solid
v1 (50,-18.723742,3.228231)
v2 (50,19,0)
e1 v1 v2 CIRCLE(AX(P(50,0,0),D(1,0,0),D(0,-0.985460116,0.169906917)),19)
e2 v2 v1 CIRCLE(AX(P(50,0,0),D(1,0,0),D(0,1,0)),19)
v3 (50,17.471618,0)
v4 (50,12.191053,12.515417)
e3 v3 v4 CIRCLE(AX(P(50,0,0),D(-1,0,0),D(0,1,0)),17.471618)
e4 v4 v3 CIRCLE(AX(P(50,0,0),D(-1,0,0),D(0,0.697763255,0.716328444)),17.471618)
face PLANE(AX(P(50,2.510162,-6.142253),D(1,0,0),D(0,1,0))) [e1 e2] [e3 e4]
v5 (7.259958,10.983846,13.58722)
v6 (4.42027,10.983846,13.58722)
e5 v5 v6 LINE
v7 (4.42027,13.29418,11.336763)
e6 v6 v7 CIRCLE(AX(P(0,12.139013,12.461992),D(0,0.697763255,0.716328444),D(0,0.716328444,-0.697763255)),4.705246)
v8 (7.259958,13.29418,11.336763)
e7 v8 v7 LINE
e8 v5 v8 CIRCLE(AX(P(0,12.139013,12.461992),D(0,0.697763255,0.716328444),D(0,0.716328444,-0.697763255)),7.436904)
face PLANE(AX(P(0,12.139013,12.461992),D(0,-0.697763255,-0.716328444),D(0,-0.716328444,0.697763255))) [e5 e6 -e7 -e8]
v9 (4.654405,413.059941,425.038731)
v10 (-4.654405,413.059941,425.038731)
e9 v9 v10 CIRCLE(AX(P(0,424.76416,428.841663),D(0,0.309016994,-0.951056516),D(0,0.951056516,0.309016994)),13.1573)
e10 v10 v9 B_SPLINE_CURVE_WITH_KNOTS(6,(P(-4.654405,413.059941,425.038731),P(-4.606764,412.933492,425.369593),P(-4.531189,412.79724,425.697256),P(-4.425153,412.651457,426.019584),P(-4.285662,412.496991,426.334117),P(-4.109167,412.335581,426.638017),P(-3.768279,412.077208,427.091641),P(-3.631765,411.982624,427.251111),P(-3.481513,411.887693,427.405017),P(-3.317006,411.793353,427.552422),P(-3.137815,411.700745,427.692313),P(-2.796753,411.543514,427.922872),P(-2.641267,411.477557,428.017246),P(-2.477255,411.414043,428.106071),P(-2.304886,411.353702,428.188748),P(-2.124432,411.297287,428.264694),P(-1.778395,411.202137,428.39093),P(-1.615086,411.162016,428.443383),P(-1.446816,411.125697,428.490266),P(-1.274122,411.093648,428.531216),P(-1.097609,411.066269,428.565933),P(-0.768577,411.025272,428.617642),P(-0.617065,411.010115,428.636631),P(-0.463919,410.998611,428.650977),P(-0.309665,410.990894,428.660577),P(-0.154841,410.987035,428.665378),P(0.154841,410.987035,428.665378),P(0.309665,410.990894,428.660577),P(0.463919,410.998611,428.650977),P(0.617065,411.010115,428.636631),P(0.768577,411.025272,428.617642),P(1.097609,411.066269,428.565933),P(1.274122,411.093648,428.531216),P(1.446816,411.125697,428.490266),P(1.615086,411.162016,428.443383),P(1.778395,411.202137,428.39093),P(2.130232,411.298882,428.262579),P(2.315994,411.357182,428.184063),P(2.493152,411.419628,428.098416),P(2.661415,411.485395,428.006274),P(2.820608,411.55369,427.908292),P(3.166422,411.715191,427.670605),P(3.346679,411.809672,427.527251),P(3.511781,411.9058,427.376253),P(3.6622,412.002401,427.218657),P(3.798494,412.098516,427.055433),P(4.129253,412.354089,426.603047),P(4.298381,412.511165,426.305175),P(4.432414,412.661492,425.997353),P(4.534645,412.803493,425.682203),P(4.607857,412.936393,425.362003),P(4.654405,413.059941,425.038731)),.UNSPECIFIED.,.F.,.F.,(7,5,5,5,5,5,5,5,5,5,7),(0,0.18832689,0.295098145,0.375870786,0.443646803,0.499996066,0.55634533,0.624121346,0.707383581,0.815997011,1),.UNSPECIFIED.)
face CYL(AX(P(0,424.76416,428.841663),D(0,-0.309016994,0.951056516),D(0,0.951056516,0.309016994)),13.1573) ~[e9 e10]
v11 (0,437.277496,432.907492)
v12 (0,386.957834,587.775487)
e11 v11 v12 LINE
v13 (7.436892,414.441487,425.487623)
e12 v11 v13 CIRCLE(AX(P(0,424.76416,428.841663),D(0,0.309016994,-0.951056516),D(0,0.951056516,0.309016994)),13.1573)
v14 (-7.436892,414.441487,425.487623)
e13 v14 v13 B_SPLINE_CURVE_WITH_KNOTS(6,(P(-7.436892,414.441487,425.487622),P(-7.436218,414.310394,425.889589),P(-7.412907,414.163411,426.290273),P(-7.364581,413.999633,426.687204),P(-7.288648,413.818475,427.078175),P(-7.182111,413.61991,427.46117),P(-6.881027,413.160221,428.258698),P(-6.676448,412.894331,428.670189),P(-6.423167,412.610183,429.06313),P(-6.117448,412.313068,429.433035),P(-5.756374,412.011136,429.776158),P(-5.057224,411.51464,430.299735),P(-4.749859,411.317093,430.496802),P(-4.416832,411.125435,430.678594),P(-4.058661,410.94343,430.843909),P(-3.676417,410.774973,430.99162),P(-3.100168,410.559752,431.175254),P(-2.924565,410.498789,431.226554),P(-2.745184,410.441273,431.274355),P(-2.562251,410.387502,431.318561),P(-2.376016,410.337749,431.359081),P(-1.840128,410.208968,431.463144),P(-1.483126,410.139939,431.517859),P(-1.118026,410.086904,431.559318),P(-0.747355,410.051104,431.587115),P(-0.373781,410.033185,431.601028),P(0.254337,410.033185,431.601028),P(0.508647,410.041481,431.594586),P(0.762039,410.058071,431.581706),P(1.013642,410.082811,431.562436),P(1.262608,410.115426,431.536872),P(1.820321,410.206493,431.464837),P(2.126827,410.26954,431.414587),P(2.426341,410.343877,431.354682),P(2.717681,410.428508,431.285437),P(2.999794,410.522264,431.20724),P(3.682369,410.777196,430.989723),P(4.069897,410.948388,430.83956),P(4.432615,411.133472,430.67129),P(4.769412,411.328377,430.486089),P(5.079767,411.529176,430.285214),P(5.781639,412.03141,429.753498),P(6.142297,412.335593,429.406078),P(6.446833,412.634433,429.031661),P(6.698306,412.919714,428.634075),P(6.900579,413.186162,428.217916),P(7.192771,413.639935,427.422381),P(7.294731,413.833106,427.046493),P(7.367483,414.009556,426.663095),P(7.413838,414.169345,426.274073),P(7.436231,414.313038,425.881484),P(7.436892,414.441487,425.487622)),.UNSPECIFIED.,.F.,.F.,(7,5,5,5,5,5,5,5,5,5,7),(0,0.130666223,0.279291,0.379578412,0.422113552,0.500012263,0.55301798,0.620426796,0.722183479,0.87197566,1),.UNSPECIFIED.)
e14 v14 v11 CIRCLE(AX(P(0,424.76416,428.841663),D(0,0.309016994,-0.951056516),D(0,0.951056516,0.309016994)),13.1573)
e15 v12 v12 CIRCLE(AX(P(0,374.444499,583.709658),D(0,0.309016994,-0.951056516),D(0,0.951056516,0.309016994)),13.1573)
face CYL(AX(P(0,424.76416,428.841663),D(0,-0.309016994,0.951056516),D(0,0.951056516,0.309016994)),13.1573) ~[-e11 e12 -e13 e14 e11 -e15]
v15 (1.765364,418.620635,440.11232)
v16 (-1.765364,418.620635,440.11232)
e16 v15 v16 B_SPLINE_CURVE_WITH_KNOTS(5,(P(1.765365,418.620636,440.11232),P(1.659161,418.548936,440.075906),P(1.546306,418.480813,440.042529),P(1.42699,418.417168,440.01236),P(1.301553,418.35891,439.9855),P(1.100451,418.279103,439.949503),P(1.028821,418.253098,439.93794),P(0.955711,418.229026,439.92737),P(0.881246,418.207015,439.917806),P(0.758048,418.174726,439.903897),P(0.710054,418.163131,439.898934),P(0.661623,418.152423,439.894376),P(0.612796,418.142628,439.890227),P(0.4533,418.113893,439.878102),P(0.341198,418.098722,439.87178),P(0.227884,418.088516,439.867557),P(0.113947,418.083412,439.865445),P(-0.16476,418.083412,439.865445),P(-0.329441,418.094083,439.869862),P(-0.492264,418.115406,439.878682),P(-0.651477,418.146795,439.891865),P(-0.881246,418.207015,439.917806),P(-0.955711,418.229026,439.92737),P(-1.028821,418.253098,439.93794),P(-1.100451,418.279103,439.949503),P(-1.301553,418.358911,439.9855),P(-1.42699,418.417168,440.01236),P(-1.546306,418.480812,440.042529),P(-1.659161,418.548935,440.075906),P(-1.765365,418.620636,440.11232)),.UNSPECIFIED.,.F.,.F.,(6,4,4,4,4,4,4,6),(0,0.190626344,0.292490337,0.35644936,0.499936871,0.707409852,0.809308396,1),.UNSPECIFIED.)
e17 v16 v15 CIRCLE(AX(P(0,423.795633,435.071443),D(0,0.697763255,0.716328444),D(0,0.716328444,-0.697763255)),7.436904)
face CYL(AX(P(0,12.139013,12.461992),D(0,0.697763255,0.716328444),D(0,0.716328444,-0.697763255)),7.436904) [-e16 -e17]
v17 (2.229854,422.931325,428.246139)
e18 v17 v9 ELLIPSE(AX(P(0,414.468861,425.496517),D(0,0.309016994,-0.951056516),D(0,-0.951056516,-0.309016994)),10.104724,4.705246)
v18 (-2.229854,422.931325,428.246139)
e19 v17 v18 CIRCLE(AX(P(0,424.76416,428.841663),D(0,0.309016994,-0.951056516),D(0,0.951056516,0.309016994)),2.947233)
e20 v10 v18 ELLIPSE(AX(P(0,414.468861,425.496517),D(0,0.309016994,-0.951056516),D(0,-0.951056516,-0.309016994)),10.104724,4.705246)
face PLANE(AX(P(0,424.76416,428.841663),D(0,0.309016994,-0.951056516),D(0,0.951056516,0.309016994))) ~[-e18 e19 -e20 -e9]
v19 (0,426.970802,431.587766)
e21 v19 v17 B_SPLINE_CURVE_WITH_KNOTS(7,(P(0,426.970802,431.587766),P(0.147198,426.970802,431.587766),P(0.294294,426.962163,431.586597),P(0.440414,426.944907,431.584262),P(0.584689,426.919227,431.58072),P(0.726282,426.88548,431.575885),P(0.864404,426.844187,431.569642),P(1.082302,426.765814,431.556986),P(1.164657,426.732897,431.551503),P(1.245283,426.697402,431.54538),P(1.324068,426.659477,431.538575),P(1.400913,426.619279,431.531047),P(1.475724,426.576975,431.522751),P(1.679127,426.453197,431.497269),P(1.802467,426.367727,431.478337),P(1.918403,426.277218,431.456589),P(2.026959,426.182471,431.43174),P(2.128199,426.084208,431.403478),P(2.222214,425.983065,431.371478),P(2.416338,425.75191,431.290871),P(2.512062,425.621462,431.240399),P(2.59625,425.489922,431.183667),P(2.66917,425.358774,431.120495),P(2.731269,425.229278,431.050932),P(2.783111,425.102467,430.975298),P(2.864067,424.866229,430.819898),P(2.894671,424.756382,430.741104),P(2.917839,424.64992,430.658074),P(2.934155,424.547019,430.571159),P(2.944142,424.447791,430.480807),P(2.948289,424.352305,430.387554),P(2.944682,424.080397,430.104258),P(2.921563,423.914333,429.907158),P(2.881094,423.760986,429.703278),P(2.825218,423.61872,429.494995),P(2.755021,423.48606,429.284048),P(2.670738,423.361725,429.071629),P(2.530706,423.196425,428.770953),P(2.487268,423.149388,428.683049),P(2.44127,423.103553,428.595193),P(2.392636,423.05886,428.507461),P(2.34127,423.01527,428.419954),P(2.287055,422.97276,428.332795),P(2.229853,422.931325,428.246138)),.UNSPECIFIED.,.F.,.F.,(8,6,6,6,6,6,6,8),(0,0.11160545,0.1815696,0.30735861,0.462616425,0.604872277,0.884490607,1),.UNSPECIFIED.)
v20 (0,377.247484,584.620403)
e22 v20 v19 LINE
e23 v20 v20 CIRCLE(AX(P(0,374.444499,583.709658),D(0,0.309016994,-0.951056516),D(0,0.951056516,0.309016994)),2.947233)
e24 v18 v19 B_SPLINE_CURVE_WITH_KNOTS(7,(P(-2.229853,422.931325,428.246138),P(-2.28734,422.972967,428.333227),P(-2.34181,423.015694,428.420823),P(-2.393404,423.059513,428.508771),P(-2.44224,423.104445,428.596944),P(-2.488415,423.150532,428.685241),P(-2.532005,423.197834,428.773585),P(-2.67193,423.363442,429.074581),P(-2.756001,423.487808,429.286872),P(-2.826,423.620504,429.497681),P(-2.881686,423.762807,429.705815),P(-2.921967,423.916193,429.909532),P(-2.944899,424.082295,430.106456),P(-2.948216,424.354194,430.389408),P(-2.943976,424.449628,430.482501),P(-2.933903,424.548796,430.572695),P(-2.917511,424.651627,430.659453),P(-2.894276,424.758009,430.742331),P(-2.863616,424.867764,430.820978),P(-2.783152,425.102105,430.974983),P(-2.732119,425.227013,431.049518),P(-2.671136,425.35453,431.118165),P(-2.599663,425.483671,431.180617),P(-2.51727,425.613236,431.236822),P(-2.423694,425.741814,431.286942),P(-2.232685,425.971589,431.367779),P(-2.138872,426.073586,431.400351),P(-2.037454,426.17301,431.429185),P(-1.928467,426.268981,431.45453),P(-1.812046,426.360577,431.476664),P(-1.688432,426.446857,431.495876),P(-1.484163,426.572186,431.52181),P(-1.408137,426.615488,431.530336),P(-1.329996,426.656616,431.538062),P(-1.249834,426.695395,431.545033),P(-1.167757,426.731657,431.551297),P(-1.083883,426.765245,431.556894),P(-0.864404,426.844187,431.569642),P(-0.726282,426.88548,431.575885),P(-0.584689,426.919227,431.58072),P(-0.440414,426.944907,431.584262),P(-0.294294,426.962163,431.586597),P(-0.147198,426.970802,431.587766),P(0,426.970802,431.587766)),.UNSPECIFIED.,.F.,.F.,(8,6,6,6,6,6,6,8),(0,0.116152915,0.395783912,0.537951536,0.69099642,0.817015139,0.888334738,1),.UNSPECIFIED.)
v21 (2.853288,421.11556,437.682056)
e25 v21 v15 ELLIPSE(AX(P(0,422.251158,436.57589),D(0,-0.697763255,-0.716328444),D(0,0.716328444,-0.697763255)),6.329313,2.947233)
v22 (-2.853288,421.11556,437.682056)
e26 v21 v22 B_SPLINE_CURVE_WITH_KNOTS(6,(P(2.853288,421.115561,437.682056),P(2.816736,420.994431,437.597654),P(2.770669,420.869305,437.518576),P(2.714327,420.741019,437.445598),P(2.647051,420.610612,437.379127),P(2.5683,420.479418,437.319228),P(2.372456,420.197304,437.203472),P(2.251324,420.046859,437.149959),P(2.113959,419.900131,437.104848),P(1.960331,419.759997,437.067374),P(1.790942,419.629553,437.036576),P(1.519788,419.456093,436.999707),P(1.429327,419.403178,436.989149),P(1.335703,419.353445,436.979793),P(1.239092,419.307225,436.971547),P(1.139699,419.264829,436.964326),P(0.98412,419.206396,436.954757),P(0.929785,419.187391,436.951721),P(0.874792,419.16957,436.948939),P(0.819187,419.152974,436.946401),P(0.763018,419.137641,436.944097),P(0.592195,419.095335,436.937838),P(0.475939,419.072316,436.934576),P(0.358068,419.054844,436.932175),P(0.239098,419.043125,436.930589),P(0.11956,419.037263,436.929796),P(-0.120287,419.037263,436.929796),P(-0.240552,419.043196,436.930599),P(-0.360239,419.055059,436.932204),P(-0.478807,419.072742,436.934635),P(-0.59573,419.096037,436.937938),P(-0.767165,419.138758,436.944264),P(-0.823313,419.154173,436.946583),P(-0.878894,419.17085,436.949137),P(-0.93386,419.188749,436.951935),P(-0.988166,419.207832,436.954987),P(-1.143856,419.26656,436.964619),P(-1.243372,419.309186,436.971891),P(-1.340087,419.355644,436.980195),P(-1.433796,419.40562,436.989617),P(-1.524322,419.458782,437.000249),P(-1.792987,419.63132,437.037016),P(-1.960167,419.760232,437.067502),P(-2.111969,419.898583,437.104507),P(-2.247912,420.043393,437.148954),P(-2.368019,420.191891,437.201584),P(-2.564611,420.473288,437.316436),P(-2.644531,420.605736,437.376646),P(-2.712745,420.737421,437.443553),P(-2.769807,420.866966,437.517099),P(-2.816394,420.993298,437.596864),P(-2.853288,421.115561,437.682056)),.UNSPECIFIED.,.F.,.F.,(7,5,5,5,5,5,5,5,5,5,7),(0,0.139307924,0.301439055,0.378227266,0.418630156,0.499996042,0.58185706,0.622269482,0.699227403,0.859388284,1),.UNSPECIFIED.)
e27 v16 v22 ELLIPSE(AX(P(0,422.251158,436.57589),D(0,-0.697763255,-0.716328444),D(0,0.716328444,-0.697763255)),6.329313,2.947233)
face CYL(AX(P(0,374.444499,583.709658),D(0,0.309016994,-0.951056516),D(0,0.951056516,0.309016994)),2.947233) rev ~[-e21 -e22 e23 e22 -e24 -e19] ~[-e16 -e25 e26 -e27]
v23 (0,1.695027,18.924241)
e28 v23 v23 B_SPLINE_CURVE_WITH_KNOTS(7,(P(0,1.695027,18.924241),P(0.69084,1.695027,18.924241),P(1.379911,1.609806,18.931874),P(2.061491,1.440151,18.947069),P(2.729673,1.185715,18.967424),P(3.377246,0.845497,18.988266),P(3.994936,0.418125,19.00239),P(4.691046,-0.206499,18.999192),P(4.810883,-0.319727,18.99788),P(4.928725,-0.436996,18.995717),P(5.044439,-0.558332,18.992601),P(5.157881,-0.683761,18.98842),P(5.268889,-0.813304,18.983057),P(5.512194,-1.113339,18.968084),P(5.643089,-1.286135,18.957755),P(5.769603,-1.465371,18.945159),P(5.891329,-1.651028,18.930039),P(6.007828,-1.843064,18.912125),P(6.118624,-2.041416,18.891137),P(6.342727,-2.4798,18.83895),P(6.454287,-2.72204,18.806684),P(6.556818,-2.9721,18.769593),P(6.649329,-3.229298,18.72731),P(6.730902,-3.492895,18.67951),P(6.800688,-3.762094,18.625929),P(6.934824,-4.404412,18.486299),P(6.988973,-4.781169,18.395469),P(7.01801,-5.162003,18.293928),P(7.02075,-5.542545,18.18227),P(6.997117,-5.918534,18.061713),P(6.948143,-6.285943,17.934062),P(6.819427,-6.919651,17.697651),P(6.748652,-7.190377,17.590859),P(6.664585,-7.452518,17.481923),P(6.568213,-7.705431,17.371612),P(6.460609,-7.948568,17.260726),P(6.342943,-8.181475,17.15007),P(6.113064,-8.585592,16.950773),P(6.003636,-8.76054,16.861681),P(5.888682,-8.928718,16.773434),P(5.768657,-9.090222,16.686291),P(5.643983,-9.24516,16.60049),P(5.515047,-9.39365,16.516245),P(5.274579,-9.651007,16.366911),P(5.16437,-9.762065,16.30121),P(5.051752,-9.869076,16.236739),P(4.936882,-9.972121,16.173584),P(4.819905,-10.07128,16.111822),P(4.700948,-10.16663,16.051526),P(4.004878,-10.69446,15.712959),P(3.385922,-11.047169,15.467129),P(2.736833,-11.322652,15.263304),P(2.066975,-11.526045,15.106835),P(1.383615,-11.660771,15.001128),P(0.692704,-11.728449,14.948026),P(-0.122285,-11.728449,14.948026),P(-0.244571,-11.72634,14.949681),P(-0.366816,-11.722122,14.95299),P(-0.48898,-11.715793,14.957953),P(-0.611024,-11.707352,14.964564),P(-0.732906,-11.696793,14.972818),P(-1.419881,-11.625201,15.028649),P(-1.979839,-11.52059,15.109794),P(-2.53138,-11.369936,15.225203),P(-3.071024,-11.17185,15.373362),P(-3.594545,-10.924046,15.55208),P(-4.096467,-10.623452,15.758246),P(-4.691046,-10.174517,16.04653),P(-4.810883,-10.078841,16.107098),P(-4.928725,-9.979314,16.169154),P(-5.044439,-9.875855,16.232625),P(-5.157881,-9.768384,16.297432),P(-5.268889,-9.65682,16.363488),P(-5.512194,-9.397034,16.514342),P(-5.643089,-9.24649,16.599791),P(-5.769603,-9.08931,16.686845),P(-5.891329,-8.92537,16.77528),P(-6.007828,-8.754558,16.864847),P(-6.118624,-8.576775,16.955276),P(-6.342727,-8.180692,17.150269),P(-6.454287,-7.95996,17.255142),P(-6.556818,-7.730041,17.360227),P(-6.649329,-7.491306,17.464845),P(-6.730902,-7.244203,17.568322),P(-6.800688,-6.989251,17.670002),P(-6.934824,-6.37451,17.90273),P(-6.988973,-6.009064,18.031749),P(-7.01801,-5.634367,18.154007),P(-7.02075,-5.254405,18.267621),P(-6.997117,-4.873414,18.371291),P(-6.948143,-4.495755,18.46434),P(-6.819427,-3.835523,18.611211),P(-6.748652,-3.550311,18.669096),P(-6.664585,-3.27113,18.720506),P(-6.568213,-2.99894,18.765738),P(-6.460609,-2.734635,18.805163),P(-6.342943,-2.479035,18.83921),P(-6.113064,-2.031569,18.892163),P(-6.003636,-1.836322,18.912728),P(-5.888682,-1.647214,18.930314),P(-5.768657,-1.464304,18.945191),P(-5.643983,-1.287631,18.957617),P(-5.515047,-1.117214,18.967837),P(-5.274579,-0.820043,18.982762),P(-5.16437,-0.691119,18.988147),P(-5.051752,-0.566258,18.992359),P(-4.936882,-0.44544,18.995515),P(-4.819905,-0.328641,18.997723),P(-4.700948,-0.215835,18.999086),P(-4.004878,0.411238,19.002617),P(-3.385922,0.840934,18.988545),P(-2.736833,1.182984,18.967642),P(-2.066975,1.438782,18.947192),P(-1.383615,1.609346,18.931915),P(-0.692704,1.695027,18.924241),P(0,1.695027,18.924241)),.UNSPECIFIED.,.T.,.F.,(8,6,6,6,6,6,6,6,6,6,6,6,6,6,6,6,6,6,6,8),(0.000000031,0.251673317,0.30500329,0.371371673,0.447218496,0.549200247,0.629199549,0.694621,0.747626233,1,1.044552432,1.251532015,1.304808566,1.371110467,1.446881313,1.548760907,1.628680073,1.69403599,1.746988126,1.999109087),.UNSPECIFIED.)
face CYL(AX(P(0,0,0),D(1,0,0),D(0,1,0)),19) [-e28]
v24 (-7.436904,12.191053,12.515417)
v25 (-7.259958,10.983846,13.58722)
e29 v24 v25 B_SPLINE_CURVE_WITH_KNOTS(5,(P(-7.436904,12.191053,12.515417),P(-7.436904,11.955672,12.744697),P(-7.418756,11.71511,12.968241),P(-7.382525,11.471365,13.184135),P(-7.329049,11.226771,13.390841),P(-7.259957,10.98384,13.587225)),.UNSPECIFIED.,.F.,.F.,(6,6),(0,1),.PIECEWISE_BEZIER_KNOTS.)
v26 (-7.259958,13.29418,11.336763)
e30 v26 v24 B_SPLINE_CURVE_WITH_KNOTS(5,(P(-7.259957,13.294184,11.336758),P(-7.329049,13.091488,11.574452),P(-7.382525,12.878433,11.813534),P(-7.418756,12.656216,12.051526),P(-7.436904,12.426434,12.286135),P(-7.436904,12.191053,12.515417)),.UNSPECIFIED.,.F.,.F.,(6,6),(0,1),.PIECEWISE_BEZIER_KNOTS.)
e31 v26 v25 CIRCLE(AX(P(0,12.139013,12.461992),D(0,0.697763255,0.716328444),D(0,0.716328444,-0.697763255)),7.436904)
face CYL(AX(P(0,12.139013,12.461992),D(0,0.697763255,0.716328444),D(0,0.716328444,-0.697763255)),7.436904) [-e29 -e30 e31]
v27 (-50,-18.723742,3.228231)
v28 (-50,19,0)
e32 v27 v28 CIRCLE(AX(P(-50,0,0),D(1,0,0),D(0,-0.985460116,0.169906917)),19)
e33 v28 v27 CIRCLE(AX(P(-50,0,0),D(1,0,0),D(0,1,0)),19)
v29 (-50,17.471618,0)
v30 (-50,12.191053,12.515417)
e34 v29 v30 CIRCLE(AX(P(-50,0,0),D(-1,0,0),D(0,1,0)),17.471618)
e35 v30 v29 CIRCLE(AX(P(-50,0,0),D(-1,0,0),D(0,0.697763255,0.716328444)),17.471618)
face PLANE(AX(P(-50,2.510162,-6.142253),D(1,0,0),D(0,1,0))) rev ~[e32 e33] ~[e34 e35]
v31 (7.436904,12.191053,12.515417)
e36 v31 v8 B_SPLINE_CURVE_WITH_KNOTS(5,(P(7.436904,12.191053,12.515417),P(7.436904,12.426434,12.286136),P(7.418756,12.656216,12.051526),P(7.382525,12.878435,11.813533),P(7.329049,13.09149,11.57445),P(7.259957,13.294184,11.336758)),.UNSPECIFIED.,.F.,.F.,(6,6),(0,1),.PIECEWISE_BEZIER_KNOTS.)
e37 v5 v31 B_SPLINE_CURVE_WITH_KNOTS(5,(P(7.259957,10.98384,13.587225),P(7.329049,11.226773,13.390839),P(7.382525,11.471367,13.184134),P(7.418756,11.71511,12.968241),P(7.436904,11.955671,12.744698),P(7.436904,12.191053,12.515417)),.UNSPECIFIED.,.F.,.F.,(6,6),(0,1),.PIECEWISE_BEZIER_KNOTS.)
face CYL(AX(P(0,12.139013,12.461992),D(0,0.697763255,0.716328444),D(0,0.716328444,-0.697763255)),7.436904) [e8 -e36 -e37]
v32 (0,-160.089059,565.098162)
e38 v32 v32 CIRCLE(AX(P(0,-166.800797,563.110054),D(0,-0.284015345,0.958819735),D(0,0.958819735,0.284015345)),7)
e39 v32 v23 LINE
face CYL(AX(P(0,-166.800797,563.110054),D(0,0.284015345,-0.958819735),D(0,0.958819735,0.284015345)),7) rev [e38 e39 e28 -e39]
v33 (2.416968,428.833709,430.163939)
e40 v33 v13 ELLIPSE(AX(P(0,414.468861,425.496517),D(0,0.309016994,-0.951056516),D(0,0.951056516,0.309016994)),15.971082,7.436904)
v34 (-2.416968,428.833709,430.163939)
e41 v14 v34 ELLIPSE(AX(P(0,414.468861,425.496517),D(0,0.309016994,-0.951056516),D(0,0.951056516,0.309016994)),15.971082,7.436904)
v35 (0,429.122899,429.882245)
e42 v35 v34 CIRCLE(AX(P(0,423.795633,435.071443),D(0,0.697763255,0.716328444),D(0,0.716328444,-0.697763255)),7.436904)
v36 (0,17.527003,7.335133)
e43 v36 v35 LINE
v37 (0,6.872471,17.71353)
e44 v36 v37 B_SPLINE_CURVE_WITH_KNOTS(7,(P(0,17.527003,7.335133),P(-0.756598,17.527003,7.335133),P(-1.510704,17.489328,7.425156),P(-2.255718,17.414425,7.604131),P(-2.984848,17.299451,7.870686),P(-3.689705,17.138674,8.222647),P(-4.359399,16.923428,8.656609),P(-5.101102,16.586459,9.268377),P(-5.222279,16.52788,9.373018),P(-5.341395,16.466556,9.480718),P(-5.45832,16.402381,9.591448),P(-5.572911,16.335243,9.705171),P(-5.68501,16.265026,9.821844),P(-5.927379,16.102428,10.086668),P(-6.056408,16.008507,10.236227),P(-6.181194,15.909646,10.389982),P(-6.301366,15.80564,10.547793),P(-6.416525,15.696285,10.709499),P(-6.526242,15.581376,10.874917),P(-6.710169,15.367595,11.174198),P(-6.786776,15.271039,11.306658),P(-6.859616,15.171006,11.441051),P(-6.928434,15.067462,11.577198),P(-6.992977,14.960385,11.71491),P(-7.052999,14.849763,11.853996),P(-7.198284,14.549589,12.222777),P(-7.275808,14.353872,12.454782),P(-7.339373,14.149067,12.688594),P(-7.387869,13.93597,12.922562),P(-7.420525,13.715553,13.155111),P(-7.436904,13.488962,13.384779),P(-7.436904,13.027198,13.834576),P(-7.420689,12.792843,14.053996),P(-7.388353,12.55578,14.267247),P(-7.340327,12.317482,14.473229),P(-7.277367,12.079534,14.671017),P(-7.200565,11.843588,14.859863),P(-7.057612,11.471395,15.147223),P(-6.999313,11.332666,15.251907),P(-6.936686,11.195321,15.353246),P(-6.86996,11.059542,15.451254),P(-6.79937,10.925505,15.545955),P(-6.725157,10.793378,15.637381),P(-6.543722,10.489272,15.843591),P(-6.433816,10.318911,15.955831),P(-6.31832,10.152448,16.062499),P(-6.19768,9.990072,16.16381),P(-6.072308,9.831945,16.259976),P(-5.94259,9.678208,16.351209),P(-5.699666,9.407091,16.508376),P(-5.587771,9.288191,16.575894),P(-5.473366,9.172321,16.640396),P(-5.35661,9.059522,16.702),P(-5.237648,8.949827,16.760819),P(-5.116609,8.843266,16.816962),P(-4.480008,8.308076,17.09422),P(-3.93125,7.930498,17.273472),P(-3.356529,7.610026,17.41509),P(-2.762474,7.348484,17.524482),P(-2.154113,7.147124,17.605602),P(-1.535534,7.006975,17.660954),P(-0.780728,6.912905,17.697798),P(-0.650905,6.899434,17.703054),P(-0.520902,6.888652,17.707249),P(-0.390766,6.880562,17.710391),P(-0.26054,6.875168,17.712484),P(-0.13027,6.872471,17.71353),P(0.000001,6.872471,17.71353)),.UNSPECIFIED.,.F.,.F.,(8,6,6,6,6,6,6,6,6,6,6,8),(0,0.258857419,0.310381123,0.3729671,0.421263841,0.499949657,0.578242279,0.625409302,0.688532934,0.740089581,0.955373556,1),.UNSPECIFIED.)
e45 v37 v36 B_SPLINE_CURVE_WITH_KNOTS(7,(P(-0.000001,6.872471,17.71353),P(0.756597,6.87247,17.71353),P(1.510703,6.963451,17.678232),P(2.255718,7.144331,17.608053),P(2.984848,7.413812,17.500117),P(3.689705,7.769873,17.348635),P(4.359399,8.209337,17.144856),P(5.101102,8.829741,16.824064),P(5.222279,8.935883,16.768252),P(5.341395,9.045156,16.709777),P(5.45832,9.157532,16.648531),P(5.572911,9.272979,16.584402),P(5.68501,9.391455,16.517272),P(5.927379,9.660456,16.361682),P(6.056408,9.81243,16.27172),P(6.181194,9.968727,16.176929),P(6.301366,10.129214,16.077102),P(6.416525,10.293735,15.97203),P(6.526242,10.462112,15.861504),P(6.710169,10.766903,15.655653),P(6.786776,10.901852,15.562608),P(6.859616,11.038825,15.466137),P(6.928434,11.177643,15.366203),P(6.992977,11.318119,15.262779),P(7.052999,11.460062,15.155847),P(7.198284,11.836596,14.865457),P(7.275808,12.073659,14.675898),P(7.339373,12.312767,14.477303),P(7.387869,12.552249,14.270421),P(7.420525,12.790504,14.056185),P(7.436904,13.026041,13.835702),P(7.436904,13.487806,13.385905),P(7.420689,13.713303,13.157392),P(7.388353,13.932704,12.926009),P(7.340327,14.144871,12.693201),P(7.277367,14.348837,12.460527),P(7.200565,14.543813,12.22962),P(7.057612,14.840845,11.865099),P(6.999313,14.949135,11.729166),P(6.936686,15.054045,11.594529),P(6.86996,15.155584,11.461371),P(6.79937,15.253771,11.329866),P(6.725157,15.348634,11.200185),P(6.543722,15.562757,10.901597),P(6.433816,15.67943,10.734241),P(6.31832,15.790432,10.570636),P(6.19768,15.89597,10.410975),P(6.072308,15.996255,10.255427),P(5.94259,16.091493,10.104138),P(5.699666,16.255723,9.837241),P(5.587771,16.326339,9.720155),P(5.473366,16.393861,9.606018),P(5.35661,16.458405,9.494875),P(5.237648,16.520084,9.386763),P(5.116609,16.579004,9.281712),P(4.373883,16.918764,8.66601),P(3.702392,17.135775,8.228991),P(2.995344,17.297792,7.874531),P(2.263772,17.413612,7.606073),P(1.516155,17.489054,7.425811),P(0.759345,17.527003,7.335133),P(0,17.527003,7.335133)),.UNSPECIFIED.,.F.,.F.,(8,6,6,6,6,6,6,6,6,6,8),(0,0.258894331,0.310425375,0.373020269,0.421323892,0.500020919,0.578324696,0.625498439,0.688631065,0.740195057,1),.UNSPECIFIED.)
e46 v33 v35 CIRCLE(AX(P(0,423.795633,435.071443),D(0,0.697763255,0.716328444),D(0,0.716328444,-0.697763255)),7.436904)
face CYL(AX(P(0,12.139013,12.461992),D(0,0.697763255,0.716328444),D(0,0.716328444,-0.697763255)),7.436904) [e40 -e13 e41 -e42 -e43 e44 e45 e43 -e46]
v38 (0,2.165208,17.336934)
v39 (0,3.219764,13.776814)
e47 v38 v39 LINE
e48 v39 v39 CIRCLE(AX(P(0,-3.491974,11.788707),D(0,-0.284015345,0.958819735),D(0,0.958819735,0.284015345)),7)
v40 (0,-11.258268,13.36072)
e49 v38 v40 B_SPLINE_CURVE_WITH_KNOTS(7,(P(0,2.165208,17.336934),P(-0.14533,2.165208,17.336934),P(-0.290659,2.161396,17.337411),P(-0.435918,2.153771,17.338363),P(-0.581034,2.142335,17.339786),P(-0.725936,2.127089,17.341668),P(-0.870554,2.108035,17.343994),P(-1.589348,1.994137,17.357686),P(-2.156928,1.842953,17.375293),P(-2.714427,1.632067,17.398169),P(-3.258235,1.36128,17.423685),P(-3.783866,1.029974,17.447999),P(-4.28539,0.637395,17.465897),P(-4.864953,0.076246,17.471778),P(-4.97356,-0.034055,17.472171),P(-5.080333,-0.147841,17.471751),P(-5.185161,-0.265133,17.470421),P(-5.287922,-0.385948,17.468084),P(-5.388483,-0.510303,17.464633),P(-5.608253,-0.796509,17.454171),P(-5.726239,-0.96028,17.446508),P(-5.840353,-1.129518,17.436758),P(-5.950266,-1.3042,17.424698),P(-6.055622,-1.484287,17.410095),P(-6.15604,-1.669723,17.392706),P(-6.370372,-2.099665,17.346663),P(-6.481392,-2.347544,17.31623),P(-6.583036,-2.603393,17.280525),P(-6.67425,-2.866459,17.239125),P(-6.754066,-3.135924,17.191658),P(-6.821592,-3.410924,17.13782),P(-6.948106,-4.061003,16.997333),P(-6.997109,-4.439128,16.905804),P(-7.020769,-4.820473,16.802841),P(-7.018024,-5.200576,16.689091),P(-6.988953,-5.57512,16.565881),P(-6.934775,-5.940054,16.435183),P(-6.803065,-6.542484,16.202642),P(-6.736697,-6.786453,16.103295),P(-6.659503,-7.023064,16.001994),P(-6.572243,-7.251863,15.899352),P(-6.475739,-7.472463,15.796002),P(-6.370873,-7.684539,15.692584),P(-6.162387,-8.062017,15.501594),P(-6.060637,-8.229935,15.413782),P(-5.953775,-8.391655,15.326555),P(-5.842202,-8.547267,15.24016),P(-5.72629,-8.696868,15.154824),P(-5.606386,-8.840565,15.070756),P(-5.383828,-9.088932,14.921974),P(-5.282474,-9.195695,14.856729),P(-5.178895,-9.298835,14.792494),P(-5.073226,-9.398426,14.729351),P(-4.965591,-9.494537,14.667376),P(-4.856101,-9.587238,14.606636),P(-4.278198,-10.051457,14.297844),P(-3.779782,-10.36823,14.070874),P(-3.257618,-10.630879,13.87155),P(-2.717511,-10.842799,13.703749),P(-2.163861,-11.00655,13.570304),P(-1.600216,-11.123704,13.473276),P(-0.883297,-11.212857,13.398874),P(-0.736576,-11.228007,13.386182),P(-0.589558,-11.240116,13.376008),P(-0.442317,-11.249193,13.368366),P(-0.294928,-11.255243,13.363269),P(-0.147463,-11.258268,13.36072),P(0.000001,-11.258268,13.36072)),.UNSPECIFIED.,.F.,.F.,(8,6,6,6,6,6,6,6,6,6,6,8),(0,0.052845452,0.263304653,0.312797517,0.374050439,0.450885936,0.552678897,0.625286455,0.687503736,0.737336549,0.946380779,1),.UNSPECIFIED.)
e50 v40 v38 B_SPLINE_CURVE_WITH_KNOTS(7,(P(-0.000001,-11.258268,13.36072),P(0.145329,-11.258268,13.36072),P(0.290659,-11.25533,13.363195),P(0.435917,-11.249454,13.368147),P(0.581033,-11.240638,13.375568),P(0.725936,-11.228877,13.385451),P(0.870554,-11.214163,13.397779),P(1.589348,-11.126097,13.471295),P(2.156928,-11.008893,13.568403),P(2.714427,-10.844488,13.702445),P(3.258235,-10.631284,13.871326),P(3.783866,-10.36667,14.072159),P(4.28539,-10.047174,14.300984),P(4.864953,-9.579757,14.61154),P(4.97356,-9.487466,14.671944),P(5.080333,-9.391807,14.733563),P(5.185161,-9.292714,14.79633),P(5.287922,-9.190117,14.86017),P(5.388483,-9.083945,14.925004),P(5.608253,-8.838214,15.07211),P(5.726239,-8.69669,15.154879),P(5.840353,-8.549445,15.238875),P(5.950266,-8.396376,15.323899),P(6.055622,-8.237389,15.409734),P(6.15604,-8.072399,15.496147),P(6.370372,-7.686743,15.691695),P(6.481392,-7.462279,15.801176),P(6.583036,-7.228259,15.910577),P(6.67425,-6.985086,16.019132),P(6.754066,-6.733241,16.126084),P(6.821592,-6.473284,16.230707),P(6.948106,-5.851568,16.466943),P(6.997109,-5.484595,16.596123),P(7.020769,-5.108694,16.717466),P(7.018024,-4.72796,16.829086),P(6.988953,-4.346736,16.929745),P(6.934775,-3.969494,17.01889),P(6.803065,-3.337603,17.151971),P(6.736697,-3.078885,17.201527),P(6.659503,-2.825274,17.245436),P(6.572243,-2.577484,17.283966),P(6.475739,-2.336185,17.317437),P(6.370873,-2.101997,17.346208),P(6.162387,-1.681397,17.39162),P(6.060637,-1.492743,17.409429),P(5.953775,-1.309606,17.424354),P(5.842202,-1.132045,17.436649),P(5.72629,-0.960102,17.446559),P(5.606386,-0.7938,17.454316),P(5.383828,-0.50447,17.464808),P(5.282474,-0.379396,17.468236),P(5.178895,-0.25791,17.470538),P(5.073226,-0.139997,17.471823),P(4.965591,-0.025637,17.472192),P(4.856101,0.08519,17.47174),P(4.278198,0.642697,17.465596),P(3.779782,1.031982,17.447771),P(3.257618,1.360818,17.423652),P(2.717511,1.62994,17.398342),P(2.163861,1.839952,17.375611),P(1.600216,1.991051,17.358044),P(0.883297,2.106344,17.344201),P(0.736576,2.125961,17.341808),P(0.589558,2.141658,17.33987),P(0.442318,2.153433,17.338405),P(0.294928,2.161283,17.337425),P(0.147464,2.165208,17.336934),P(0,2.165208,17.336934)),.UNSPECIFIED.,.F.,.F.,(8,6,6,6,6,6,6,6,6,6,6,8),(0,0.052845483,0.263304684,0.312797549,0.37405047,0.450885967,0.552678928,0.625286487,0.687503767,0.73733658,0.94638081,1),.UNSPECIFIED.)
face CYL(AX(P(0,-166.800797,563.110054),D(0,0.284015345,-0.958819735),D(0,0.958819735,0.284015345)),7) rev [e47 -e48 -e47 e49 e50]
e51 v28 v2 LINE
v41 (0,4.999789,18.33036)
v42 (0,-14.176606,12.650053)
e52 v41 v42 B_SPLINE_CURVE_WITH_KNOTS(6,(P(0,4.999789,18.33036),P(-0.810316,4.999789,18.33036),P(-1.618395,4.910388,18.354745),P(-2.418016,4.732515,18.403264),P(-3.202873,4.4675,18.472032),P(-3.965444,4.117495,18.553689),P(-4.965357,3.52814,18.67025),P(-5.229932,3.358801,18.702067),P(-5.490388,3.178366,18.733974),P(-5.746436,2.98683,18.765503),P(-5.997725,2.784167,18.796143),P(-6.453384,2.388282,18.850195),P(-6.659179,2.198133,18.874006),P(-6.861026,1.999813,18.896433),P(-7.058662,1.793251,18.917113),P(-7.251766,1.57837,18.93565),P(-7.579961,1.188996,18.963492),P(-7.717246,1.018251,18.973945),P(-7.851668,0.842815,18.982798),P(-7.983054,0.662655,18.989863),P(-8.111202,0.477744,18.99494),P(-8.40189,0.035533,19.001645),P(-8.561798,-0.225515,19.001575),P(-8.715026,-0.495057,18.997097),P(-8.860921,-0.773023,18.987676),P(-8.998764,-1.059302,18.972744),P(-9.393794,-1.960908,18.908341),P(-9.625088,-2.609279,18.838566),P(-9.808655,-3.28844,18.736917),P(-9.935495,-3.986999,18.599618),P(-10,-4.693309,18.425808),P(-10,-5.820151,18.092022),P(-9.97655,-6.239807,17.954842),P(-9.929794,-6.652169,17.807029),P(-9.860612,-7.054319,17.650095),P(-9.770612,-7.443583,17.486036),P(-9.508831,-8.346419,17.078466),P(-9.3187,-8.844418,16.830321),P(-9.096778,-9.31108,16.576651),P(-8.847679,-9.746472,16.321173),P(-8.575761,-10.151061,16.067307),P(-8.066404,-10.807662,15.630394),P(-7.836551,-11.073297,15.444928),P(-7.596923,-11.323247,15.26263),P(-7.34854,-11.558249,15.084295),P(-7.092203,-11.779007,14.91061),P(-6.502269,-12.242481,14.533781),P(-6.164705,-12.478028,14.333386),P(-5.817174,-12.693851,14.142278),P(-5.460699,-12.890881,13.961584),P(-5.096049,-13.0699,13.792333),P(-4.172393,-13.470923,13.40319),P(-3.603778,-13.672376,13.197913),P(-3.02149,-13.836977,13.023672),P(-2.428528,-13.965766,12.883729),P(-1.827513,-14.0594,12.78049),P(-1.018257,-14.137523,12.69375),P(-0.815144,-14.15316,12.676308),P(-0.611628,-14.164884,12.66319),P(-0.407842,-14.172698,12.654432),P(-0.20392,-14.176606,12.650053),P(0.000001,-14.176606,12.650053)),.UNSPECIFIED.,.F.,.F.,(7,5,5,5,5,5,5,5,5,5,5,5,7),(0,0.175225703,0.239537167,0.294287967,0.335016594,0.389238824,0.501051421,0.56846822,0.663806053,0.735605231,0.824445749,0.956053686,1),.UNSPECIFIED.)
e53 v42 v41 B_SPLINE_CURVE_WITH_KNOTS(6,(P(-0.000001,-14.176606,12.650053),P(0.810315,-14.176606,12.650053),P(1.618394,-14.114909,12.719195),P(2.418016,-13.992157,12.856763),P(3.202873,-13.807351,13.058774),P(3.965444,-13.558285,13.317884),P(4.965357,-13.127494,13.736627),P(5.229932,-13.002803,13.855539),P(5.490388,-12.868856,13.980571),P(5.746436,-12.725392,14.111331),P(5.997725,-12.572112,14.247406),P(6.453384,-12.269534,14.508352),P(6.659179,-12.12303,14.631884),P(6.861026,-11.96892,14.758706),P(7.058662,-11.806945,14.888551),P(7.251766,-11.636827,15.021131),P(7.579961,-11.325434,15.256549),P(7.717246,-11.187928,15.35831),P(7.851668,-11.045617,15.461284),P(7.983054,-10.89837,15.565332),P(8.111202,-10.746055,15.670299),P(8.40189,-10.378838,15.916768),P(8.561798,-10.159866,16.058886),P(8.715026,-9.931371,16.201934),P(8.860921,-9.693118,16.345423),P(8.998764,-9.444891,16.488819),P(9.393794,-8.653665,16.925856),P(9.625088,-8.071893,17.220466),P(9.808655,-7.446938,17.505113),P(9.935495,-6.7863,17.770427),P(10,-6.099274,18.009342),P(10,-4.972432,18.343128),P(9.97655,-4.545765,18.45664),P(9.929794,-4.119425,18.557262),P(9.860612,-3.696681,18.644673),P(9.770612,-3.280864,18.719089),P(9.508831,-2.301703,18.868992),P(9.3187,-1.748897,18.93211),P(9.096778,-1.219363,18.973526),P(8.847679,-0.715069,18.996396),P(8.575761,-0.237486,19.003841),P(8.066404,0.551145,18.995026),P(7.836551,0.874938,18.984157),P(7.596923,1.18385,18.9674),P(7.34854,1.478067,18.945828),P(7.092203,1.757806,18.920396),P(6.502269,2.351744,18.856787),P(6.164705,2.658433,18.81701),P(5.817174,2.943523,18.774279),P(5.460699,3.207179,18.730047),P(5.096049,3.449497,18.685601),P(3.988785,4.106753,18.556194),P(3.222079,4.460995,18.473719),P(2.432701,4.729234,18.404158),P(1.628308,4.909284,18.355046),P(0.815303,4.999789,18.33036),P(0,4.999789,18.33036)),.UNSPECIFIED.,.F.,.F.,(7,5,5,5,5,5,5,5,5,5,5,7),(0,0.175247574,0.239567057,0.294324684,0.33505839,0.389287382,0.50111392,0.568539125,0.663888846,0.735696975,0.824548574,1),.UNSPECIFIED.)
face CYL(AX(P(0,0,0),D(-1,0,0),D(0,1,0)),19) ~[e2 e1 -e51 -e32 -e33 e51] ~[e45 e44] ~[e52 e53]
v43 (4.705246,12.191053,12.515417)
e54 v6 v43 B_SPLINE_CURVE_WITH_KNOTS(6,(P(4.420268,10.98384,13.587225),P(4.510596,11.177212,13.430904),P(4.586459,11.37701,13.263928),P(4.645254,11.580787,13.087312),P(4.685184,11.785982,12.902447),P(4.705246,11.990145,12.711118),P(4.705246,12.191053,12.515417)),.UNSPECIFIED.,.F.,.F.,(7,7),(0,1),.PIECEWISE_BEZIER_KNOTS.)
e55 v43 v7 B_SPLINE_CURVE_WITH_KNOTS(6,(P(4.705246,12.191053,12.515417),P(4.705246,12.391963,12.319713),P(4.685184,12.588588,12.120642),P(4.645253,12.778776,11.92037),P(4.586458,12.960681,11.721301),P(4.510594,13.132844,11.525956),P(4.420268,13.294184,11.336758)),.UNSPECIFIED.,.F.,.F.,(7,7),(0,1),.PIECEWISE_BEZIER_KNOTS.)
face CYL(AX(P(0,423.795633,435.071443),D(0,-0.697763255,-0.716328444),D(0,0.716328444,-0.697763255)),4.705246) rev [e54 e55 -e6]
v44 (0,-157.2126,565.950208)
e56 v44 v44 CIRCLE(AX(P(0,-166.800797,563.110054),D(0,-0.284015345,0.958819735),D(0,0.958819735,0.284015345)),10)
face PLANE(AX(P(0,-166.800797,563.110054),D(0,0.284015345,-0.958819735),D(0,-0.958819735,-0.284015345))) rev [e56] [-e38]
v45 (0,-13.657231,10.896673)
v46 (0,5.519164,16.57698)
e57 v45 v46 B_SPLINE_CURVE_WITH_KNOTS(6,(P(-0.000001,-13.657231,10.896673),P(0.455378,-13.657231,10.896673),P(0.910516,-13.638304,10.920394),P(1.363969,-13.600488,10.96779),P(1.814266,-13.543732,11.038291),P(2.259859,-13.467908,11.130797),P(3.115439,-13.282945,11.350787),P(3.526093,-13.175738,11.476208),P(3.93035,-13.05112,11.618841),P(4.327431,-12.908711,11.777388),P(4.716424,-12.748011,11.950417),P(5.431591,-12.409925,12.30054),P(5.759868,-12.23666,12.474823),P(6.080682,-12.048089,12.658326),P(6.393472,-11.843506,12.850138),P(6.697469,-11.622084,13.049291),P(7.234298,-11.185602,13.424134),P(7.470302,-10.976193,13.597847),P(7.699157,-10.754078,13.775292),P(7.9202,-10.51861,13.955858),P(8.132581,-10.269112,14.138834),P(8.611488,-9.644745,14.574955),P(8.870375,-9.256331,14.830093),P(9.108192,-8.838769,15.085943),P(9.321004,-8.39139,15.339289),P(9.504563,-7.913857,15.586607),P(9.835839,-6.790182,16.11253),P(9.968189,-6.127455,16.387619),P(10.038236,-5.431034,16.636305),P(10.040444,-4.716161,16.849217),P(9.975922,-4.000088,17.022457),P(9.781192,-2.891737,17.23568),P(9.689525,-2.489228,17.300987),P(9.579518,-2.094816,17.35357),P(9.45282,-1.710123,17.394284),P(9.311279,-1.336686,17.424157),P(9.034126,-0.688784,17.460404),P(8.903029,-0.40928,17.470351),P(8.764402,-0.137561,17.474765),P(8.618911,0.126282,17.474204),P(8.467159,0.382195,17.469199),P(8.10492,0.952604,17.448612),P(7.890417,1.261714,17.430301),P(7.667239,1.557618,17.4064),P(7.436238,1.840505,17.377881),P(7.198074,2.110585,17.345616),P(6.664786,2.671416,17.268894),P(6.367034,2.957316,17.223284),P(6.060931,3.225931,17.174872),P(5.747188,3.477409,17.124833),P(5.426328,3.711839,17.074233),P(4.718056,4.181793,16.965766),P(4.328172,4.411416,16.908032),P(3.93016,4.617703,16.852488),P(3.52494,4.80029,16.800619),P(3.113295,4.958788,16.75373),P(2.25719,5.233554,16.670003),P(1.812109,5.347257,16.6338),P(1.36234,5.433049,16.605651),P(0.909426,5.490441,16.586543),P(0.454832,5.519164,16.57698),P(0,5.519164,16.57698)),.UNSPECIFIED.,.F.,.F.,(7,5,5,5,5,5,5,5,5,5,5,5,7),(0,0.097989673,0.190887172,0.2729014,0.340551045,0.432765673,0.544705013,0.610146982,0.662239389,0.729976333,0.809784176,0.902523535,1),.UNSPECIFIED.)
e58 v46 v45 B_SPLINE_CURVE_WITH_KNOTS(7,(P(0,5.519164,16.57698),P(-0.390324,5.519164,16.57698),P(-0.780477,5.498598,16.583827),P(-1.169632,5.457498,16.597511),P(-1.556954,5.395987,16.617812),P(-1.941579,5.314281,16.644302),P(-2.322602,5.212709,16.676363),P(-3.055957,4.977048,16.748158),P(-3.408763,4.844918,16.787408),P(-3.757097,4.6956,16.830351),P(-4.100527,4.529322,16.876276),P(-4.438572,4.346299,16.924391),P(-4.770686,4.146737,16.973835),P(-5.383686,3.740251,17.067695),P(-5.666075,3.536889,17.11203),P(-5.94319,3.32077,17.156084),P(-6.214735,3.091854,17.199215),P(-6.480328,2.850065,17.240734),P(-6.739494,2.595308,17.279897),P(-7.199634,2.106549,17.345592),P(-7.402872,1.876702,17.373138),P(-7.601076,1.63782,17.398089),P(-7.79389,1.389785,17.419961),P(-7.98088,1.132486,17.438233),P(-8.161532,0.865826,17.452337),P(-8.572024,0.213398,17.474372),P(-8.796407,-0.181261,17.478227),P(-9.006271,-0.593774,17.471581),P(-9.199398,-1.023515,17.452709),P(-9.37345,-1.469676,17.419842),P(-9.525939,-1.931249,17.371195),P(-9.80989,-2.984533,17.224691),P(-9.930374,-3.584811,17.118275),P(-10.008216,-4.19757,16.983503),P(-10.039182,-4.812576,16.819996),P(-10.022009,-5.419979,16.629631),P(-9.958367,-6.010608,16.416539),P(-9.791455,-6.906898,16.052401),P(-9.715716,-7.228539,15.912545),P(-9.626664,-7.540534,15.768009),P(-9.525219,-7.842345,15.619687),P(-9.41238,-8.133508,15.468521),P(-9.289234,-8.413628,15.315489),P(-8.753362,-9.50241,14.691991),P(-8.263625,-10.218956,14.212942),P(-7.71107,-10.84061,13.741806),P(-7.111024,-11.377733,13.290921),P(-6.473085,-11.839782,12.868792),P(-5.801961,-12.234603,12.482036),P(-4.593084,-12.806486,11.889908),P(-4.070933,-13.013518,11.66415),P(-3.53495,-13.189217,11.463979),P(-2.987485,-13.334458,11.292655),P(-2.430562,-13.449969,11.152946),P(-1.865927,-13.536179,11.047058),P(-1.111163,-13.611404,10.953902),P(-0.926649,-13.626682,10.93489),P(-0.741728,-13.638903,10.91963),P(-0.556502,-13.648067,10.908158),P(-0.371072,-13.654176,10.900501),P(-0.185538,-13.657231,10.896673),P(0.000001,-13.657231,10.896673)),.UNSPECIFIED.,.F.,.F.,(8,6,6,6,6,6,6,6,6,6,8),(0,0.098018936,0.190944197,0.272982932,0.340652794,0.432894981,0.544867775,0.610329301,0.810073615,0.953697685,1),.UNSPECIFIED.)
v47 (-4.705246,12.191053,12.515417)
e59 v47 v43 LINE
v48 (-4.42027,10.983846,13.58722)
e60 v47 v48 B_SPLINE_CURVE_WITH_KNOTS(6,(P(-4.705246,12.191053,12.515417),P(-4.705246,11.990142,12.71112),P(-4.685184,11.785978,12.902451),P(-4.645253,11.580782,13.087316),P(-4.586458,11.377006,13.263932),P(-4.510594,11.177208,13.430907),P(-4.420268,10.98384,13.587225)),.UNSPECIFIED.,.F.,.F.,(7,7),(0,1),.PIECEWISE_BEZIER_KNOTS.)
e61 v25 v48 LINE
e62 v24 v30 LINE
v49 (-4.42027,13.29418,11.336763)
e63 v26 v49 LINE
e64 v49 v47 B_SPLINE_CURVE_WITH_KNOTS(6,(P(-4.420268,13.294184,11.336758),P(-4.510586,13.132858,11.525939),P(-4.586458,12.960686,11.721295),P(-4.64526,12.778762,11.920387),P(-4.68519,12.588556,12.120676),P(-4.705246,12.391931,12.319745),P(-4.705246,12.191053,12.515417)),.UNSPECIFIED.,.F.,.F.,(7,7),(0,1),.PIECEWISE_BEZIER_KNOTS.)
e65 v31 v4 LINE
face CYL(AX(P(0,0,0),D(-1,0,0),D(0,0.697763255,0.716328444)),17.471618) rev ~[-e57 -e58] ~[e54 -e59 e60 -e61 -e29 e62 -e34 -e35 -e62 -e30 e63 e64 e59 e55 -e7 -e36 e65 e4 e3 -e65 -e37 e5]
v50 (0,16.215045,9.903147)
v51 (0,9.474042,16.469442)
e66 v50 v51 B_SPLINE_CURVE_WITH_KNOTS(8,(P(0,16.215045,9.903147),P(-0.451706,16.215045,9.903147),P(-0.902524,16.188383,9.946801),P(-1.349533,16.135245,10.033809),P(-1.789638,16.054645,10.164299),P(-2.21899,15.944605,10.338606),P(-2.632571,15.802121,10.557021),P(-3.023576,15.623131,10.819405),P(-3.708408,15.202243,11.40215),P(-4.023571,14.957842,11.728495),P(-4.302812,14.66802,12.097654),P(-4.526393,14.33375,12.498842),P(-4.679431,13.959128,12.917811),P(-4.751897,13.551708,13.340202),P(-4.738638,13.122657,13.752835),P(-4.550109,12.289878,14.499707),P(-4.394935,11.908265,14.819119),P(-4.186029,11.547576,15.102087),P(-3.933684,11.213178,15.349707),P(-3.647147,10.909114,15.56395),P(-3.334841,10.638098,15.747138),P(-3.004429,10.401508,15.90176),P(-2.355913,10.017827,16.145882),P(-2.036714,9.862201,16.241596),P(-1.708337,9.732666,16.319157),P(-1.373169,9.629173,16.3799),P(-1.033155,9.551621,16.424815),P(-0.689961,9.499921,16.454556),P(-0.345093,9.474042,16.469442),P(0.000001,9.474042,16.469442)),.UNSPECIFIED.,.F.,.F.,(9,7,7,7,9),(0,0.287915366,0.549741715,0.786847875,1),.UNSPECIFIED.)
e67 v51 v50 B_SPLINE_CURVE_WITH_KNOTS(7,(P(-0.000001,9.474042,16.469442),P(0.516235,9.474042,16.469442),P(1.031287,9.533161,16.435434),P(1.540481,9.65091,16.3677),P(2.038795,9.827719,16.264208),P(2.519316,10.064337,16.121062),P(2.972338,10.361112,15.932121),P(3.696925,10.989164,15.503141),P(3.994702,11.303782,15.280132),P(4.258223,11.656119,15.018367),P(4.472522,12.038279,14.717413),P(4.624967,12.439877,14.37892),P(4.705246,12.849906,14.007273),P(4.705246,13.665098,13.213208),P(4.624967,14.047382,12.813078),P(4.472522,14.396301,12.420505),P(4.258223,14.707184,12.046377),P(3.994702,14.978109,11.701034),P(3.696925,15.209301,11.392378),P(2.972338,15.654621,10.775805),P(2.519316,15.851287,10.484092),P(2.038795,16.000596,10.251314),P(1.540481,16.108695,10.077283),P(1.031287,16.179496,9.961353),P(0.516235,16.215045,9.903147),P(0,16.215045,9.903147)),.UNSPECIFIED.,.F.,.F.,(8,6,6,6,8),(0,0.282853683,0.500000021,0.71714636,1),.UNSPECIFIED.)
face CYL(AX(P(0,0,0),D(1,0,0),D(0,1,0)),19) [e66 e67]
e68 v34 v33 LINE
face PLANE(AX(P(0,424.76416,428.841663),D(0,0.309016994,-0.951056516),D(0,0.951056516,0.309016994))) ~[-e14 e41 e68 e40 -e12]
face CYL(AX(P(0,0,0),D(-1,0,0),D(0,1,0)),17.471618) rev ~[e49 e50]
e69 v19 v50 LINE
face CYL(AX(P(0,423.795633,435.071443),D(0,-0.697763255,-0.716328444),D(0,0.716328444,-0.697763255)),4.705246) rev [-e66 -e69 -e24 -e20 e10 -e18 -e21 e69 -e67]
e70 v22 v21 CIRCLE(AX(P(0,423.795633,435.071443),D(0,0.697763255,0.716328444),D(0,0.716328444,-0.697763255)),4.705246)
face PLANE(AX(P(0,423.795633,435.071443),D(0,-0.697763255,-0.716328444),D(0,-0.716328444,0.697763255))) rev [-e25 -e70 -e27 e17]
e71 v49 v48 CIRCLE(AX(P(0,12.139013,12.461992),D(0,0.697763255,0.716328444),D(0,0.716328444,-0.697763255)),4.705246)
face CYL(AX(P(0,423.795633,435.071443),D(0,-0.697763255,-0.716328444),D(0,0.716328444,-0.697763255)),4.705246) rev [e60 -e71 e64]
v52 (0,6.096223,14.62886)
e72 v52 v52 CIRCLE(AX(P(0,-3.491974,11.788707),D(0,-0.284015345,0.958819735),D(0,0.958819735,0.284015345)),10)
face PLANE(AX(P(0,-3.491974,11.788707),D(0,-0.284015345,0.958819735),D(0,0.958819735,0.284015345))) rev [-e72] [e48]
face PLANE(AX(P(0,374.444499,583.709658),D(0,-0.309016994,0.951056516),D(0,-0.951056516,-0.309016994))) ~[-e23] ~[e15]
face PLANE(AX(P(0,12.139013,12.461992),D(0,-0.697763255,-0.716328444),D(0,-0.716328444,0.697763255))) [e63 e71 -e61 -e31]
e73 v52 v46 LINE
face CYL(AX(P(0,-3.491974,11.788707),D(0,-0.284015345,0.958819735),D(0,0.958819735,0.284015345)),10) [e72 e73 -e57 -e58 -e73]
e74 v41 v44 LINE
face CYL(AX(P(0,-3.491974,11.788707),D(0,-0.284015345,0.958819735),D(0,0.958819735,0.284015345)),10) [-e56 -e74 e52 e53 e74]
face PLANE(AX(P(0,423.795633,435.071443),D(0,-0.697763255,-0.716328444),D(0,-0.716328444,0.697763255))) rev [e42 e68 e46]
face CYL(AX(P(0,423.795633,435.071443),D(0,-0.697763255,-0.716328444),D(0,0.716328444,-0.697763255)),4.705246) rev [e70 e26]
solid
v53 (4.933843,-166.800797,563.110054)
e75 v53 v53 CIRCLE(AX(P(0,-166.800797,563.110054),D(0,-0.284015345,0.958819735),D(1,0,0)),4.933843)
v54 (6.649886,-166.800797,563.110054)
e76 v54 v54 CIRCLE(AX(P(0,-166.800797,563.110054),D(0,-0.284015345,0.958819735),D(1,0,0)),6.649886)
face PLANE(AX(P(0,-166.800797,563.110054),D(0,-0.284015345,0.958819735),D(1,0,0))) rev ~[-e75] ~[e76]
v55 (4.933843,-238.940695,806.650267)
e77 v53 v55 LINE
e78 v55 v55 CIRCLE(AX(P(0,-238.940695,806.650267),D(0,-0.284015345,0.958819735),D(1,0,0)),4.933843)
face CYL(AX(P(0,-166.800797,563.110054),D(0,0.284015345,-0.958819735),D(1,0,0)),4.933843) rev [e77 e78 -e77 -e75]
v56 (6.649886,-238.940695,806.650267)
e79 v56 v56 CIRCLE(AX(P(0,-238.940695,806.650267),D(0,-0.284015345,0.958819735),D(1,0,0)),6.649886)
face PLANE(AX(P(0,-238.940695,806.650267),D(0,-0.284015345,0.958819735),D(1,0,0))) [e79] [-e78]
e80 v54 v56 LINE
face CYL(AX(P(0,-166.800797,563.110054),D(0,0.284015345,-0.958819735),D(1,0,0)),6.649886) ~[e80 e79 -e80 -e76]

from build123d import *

# Parameters (mm, degrees)
F1_DEPTH      = 50
F1_DEPTH_BACK = 50
F4_R          = 6.6498858901
F4_R_2        = 4.9338425648
F5_DEPTH      = 254


with BuildPart() as f1:
    # F0 (on Right) → F1 (new body, two sides)
    with BuildSketch(Plane.YZ) as f1_sk:
        with BuildLine():
            Line((-17.2175823491, 2.9685486809), (-18.7237421991, 3.2282314136))
            ThreePointArc((-18.7237421991, 3.2282314136), (-1.6200151568, -18.9308095678), (19, 0))
            ThreePointArc((19, 0), (17.5056067439, 7.3860498596), (13.2575018392, 13.6102404455))
            Line((13.2575018392, 13.6102404455), (12.1910527944, 12.5154166923))
            ThreePointArc((12.1910527944, 12.5154166923), (16.0974351429, 6.7919073195), (17.4716176474, 0))
            ThreePointArc((17.4716176474, 0), (-1.4896992317, -17.407992975), (-17.2175823491, 2.9685486809))
        make_face()
        with BuildLine():
            ThreePointArc((13.2575018392, 13.6102404455), (-5.8665555314, 18.0716221241), (-18.7237421991, 3.2282314136))
            Line((-18.7237421991, 3.2282314136), (-17.2175823491, 2.9685486809))
            ThreePointArc((-17.2175823491, 2.9685486809), (-5.3946429027, 16.6179195801), (12.1910527944, 12.5154166923))
            Line((12.1910527944, 12.5154166923), (13.2575018392, 13.6102404455))
        make_face()
    extrude(amount=-F1_DEPTH)
    extrude(f1_sk.sketch, amount=F1_DEPTH_BACK)

    # F2 (on Right) → F3 (revolve)
    with BuildSketch(Plane.YZ):
        Polygon((3.2197641066, 13.7768141966), (6.0962233112, 14.6288602307), (-157.2125998935, 565.9502077799), (-160.0890590981, 565.0981617458), align=None)
    revolve(axis=Axis((0, -73.843989623, 249.2931310657), (0, -0.2840153447, 0.9588197349)))

    # F6 (on Right) → F7 (revolve)
    with BuildSketch(Plane.YZ):
        Polygon((427.166134119, 431.7882955074), (15.5095142238, 9.1788442143), (17.4662787467, 7.2727934457), (429.122898642, 429.8822447389), align=None)
    revolve(axis=Axis((0, 209.7269668516, 215.3071130135), (0, 0.6977632547, 0.7163284445)))

    # F8 (on Right) → F9 (revolve)
    with BuildSketch(Plane.YZ):
        Polygon((427.5671455208, 429.7524078395), (437.2774958611, 432.9074919224), (386.9578340125, 587.7754867899), (377.2474836722, 584.620402707), align=None)
    revolve(axis=Axis((0, 399.72135955, 505.9154786964), (0, 0.3090169944, -0.9510565163)))


with BuildPart() as f5:
    # F4 (on face) → F5 (new body)
    with BuildSketch(Plane(origin=(0, -166.8007972422, 563.1100543329), x_dir=(1, 0, 0), z_dir=(0, -0.2840153447, 0.9588197349))):
        Circle(F4_R)
        Circle(F4_R_2, mode=Mode.SUBTRACT)
    extrude(amount=F5_DEPTH)


solid = Compound([f1.part, f5.part])
